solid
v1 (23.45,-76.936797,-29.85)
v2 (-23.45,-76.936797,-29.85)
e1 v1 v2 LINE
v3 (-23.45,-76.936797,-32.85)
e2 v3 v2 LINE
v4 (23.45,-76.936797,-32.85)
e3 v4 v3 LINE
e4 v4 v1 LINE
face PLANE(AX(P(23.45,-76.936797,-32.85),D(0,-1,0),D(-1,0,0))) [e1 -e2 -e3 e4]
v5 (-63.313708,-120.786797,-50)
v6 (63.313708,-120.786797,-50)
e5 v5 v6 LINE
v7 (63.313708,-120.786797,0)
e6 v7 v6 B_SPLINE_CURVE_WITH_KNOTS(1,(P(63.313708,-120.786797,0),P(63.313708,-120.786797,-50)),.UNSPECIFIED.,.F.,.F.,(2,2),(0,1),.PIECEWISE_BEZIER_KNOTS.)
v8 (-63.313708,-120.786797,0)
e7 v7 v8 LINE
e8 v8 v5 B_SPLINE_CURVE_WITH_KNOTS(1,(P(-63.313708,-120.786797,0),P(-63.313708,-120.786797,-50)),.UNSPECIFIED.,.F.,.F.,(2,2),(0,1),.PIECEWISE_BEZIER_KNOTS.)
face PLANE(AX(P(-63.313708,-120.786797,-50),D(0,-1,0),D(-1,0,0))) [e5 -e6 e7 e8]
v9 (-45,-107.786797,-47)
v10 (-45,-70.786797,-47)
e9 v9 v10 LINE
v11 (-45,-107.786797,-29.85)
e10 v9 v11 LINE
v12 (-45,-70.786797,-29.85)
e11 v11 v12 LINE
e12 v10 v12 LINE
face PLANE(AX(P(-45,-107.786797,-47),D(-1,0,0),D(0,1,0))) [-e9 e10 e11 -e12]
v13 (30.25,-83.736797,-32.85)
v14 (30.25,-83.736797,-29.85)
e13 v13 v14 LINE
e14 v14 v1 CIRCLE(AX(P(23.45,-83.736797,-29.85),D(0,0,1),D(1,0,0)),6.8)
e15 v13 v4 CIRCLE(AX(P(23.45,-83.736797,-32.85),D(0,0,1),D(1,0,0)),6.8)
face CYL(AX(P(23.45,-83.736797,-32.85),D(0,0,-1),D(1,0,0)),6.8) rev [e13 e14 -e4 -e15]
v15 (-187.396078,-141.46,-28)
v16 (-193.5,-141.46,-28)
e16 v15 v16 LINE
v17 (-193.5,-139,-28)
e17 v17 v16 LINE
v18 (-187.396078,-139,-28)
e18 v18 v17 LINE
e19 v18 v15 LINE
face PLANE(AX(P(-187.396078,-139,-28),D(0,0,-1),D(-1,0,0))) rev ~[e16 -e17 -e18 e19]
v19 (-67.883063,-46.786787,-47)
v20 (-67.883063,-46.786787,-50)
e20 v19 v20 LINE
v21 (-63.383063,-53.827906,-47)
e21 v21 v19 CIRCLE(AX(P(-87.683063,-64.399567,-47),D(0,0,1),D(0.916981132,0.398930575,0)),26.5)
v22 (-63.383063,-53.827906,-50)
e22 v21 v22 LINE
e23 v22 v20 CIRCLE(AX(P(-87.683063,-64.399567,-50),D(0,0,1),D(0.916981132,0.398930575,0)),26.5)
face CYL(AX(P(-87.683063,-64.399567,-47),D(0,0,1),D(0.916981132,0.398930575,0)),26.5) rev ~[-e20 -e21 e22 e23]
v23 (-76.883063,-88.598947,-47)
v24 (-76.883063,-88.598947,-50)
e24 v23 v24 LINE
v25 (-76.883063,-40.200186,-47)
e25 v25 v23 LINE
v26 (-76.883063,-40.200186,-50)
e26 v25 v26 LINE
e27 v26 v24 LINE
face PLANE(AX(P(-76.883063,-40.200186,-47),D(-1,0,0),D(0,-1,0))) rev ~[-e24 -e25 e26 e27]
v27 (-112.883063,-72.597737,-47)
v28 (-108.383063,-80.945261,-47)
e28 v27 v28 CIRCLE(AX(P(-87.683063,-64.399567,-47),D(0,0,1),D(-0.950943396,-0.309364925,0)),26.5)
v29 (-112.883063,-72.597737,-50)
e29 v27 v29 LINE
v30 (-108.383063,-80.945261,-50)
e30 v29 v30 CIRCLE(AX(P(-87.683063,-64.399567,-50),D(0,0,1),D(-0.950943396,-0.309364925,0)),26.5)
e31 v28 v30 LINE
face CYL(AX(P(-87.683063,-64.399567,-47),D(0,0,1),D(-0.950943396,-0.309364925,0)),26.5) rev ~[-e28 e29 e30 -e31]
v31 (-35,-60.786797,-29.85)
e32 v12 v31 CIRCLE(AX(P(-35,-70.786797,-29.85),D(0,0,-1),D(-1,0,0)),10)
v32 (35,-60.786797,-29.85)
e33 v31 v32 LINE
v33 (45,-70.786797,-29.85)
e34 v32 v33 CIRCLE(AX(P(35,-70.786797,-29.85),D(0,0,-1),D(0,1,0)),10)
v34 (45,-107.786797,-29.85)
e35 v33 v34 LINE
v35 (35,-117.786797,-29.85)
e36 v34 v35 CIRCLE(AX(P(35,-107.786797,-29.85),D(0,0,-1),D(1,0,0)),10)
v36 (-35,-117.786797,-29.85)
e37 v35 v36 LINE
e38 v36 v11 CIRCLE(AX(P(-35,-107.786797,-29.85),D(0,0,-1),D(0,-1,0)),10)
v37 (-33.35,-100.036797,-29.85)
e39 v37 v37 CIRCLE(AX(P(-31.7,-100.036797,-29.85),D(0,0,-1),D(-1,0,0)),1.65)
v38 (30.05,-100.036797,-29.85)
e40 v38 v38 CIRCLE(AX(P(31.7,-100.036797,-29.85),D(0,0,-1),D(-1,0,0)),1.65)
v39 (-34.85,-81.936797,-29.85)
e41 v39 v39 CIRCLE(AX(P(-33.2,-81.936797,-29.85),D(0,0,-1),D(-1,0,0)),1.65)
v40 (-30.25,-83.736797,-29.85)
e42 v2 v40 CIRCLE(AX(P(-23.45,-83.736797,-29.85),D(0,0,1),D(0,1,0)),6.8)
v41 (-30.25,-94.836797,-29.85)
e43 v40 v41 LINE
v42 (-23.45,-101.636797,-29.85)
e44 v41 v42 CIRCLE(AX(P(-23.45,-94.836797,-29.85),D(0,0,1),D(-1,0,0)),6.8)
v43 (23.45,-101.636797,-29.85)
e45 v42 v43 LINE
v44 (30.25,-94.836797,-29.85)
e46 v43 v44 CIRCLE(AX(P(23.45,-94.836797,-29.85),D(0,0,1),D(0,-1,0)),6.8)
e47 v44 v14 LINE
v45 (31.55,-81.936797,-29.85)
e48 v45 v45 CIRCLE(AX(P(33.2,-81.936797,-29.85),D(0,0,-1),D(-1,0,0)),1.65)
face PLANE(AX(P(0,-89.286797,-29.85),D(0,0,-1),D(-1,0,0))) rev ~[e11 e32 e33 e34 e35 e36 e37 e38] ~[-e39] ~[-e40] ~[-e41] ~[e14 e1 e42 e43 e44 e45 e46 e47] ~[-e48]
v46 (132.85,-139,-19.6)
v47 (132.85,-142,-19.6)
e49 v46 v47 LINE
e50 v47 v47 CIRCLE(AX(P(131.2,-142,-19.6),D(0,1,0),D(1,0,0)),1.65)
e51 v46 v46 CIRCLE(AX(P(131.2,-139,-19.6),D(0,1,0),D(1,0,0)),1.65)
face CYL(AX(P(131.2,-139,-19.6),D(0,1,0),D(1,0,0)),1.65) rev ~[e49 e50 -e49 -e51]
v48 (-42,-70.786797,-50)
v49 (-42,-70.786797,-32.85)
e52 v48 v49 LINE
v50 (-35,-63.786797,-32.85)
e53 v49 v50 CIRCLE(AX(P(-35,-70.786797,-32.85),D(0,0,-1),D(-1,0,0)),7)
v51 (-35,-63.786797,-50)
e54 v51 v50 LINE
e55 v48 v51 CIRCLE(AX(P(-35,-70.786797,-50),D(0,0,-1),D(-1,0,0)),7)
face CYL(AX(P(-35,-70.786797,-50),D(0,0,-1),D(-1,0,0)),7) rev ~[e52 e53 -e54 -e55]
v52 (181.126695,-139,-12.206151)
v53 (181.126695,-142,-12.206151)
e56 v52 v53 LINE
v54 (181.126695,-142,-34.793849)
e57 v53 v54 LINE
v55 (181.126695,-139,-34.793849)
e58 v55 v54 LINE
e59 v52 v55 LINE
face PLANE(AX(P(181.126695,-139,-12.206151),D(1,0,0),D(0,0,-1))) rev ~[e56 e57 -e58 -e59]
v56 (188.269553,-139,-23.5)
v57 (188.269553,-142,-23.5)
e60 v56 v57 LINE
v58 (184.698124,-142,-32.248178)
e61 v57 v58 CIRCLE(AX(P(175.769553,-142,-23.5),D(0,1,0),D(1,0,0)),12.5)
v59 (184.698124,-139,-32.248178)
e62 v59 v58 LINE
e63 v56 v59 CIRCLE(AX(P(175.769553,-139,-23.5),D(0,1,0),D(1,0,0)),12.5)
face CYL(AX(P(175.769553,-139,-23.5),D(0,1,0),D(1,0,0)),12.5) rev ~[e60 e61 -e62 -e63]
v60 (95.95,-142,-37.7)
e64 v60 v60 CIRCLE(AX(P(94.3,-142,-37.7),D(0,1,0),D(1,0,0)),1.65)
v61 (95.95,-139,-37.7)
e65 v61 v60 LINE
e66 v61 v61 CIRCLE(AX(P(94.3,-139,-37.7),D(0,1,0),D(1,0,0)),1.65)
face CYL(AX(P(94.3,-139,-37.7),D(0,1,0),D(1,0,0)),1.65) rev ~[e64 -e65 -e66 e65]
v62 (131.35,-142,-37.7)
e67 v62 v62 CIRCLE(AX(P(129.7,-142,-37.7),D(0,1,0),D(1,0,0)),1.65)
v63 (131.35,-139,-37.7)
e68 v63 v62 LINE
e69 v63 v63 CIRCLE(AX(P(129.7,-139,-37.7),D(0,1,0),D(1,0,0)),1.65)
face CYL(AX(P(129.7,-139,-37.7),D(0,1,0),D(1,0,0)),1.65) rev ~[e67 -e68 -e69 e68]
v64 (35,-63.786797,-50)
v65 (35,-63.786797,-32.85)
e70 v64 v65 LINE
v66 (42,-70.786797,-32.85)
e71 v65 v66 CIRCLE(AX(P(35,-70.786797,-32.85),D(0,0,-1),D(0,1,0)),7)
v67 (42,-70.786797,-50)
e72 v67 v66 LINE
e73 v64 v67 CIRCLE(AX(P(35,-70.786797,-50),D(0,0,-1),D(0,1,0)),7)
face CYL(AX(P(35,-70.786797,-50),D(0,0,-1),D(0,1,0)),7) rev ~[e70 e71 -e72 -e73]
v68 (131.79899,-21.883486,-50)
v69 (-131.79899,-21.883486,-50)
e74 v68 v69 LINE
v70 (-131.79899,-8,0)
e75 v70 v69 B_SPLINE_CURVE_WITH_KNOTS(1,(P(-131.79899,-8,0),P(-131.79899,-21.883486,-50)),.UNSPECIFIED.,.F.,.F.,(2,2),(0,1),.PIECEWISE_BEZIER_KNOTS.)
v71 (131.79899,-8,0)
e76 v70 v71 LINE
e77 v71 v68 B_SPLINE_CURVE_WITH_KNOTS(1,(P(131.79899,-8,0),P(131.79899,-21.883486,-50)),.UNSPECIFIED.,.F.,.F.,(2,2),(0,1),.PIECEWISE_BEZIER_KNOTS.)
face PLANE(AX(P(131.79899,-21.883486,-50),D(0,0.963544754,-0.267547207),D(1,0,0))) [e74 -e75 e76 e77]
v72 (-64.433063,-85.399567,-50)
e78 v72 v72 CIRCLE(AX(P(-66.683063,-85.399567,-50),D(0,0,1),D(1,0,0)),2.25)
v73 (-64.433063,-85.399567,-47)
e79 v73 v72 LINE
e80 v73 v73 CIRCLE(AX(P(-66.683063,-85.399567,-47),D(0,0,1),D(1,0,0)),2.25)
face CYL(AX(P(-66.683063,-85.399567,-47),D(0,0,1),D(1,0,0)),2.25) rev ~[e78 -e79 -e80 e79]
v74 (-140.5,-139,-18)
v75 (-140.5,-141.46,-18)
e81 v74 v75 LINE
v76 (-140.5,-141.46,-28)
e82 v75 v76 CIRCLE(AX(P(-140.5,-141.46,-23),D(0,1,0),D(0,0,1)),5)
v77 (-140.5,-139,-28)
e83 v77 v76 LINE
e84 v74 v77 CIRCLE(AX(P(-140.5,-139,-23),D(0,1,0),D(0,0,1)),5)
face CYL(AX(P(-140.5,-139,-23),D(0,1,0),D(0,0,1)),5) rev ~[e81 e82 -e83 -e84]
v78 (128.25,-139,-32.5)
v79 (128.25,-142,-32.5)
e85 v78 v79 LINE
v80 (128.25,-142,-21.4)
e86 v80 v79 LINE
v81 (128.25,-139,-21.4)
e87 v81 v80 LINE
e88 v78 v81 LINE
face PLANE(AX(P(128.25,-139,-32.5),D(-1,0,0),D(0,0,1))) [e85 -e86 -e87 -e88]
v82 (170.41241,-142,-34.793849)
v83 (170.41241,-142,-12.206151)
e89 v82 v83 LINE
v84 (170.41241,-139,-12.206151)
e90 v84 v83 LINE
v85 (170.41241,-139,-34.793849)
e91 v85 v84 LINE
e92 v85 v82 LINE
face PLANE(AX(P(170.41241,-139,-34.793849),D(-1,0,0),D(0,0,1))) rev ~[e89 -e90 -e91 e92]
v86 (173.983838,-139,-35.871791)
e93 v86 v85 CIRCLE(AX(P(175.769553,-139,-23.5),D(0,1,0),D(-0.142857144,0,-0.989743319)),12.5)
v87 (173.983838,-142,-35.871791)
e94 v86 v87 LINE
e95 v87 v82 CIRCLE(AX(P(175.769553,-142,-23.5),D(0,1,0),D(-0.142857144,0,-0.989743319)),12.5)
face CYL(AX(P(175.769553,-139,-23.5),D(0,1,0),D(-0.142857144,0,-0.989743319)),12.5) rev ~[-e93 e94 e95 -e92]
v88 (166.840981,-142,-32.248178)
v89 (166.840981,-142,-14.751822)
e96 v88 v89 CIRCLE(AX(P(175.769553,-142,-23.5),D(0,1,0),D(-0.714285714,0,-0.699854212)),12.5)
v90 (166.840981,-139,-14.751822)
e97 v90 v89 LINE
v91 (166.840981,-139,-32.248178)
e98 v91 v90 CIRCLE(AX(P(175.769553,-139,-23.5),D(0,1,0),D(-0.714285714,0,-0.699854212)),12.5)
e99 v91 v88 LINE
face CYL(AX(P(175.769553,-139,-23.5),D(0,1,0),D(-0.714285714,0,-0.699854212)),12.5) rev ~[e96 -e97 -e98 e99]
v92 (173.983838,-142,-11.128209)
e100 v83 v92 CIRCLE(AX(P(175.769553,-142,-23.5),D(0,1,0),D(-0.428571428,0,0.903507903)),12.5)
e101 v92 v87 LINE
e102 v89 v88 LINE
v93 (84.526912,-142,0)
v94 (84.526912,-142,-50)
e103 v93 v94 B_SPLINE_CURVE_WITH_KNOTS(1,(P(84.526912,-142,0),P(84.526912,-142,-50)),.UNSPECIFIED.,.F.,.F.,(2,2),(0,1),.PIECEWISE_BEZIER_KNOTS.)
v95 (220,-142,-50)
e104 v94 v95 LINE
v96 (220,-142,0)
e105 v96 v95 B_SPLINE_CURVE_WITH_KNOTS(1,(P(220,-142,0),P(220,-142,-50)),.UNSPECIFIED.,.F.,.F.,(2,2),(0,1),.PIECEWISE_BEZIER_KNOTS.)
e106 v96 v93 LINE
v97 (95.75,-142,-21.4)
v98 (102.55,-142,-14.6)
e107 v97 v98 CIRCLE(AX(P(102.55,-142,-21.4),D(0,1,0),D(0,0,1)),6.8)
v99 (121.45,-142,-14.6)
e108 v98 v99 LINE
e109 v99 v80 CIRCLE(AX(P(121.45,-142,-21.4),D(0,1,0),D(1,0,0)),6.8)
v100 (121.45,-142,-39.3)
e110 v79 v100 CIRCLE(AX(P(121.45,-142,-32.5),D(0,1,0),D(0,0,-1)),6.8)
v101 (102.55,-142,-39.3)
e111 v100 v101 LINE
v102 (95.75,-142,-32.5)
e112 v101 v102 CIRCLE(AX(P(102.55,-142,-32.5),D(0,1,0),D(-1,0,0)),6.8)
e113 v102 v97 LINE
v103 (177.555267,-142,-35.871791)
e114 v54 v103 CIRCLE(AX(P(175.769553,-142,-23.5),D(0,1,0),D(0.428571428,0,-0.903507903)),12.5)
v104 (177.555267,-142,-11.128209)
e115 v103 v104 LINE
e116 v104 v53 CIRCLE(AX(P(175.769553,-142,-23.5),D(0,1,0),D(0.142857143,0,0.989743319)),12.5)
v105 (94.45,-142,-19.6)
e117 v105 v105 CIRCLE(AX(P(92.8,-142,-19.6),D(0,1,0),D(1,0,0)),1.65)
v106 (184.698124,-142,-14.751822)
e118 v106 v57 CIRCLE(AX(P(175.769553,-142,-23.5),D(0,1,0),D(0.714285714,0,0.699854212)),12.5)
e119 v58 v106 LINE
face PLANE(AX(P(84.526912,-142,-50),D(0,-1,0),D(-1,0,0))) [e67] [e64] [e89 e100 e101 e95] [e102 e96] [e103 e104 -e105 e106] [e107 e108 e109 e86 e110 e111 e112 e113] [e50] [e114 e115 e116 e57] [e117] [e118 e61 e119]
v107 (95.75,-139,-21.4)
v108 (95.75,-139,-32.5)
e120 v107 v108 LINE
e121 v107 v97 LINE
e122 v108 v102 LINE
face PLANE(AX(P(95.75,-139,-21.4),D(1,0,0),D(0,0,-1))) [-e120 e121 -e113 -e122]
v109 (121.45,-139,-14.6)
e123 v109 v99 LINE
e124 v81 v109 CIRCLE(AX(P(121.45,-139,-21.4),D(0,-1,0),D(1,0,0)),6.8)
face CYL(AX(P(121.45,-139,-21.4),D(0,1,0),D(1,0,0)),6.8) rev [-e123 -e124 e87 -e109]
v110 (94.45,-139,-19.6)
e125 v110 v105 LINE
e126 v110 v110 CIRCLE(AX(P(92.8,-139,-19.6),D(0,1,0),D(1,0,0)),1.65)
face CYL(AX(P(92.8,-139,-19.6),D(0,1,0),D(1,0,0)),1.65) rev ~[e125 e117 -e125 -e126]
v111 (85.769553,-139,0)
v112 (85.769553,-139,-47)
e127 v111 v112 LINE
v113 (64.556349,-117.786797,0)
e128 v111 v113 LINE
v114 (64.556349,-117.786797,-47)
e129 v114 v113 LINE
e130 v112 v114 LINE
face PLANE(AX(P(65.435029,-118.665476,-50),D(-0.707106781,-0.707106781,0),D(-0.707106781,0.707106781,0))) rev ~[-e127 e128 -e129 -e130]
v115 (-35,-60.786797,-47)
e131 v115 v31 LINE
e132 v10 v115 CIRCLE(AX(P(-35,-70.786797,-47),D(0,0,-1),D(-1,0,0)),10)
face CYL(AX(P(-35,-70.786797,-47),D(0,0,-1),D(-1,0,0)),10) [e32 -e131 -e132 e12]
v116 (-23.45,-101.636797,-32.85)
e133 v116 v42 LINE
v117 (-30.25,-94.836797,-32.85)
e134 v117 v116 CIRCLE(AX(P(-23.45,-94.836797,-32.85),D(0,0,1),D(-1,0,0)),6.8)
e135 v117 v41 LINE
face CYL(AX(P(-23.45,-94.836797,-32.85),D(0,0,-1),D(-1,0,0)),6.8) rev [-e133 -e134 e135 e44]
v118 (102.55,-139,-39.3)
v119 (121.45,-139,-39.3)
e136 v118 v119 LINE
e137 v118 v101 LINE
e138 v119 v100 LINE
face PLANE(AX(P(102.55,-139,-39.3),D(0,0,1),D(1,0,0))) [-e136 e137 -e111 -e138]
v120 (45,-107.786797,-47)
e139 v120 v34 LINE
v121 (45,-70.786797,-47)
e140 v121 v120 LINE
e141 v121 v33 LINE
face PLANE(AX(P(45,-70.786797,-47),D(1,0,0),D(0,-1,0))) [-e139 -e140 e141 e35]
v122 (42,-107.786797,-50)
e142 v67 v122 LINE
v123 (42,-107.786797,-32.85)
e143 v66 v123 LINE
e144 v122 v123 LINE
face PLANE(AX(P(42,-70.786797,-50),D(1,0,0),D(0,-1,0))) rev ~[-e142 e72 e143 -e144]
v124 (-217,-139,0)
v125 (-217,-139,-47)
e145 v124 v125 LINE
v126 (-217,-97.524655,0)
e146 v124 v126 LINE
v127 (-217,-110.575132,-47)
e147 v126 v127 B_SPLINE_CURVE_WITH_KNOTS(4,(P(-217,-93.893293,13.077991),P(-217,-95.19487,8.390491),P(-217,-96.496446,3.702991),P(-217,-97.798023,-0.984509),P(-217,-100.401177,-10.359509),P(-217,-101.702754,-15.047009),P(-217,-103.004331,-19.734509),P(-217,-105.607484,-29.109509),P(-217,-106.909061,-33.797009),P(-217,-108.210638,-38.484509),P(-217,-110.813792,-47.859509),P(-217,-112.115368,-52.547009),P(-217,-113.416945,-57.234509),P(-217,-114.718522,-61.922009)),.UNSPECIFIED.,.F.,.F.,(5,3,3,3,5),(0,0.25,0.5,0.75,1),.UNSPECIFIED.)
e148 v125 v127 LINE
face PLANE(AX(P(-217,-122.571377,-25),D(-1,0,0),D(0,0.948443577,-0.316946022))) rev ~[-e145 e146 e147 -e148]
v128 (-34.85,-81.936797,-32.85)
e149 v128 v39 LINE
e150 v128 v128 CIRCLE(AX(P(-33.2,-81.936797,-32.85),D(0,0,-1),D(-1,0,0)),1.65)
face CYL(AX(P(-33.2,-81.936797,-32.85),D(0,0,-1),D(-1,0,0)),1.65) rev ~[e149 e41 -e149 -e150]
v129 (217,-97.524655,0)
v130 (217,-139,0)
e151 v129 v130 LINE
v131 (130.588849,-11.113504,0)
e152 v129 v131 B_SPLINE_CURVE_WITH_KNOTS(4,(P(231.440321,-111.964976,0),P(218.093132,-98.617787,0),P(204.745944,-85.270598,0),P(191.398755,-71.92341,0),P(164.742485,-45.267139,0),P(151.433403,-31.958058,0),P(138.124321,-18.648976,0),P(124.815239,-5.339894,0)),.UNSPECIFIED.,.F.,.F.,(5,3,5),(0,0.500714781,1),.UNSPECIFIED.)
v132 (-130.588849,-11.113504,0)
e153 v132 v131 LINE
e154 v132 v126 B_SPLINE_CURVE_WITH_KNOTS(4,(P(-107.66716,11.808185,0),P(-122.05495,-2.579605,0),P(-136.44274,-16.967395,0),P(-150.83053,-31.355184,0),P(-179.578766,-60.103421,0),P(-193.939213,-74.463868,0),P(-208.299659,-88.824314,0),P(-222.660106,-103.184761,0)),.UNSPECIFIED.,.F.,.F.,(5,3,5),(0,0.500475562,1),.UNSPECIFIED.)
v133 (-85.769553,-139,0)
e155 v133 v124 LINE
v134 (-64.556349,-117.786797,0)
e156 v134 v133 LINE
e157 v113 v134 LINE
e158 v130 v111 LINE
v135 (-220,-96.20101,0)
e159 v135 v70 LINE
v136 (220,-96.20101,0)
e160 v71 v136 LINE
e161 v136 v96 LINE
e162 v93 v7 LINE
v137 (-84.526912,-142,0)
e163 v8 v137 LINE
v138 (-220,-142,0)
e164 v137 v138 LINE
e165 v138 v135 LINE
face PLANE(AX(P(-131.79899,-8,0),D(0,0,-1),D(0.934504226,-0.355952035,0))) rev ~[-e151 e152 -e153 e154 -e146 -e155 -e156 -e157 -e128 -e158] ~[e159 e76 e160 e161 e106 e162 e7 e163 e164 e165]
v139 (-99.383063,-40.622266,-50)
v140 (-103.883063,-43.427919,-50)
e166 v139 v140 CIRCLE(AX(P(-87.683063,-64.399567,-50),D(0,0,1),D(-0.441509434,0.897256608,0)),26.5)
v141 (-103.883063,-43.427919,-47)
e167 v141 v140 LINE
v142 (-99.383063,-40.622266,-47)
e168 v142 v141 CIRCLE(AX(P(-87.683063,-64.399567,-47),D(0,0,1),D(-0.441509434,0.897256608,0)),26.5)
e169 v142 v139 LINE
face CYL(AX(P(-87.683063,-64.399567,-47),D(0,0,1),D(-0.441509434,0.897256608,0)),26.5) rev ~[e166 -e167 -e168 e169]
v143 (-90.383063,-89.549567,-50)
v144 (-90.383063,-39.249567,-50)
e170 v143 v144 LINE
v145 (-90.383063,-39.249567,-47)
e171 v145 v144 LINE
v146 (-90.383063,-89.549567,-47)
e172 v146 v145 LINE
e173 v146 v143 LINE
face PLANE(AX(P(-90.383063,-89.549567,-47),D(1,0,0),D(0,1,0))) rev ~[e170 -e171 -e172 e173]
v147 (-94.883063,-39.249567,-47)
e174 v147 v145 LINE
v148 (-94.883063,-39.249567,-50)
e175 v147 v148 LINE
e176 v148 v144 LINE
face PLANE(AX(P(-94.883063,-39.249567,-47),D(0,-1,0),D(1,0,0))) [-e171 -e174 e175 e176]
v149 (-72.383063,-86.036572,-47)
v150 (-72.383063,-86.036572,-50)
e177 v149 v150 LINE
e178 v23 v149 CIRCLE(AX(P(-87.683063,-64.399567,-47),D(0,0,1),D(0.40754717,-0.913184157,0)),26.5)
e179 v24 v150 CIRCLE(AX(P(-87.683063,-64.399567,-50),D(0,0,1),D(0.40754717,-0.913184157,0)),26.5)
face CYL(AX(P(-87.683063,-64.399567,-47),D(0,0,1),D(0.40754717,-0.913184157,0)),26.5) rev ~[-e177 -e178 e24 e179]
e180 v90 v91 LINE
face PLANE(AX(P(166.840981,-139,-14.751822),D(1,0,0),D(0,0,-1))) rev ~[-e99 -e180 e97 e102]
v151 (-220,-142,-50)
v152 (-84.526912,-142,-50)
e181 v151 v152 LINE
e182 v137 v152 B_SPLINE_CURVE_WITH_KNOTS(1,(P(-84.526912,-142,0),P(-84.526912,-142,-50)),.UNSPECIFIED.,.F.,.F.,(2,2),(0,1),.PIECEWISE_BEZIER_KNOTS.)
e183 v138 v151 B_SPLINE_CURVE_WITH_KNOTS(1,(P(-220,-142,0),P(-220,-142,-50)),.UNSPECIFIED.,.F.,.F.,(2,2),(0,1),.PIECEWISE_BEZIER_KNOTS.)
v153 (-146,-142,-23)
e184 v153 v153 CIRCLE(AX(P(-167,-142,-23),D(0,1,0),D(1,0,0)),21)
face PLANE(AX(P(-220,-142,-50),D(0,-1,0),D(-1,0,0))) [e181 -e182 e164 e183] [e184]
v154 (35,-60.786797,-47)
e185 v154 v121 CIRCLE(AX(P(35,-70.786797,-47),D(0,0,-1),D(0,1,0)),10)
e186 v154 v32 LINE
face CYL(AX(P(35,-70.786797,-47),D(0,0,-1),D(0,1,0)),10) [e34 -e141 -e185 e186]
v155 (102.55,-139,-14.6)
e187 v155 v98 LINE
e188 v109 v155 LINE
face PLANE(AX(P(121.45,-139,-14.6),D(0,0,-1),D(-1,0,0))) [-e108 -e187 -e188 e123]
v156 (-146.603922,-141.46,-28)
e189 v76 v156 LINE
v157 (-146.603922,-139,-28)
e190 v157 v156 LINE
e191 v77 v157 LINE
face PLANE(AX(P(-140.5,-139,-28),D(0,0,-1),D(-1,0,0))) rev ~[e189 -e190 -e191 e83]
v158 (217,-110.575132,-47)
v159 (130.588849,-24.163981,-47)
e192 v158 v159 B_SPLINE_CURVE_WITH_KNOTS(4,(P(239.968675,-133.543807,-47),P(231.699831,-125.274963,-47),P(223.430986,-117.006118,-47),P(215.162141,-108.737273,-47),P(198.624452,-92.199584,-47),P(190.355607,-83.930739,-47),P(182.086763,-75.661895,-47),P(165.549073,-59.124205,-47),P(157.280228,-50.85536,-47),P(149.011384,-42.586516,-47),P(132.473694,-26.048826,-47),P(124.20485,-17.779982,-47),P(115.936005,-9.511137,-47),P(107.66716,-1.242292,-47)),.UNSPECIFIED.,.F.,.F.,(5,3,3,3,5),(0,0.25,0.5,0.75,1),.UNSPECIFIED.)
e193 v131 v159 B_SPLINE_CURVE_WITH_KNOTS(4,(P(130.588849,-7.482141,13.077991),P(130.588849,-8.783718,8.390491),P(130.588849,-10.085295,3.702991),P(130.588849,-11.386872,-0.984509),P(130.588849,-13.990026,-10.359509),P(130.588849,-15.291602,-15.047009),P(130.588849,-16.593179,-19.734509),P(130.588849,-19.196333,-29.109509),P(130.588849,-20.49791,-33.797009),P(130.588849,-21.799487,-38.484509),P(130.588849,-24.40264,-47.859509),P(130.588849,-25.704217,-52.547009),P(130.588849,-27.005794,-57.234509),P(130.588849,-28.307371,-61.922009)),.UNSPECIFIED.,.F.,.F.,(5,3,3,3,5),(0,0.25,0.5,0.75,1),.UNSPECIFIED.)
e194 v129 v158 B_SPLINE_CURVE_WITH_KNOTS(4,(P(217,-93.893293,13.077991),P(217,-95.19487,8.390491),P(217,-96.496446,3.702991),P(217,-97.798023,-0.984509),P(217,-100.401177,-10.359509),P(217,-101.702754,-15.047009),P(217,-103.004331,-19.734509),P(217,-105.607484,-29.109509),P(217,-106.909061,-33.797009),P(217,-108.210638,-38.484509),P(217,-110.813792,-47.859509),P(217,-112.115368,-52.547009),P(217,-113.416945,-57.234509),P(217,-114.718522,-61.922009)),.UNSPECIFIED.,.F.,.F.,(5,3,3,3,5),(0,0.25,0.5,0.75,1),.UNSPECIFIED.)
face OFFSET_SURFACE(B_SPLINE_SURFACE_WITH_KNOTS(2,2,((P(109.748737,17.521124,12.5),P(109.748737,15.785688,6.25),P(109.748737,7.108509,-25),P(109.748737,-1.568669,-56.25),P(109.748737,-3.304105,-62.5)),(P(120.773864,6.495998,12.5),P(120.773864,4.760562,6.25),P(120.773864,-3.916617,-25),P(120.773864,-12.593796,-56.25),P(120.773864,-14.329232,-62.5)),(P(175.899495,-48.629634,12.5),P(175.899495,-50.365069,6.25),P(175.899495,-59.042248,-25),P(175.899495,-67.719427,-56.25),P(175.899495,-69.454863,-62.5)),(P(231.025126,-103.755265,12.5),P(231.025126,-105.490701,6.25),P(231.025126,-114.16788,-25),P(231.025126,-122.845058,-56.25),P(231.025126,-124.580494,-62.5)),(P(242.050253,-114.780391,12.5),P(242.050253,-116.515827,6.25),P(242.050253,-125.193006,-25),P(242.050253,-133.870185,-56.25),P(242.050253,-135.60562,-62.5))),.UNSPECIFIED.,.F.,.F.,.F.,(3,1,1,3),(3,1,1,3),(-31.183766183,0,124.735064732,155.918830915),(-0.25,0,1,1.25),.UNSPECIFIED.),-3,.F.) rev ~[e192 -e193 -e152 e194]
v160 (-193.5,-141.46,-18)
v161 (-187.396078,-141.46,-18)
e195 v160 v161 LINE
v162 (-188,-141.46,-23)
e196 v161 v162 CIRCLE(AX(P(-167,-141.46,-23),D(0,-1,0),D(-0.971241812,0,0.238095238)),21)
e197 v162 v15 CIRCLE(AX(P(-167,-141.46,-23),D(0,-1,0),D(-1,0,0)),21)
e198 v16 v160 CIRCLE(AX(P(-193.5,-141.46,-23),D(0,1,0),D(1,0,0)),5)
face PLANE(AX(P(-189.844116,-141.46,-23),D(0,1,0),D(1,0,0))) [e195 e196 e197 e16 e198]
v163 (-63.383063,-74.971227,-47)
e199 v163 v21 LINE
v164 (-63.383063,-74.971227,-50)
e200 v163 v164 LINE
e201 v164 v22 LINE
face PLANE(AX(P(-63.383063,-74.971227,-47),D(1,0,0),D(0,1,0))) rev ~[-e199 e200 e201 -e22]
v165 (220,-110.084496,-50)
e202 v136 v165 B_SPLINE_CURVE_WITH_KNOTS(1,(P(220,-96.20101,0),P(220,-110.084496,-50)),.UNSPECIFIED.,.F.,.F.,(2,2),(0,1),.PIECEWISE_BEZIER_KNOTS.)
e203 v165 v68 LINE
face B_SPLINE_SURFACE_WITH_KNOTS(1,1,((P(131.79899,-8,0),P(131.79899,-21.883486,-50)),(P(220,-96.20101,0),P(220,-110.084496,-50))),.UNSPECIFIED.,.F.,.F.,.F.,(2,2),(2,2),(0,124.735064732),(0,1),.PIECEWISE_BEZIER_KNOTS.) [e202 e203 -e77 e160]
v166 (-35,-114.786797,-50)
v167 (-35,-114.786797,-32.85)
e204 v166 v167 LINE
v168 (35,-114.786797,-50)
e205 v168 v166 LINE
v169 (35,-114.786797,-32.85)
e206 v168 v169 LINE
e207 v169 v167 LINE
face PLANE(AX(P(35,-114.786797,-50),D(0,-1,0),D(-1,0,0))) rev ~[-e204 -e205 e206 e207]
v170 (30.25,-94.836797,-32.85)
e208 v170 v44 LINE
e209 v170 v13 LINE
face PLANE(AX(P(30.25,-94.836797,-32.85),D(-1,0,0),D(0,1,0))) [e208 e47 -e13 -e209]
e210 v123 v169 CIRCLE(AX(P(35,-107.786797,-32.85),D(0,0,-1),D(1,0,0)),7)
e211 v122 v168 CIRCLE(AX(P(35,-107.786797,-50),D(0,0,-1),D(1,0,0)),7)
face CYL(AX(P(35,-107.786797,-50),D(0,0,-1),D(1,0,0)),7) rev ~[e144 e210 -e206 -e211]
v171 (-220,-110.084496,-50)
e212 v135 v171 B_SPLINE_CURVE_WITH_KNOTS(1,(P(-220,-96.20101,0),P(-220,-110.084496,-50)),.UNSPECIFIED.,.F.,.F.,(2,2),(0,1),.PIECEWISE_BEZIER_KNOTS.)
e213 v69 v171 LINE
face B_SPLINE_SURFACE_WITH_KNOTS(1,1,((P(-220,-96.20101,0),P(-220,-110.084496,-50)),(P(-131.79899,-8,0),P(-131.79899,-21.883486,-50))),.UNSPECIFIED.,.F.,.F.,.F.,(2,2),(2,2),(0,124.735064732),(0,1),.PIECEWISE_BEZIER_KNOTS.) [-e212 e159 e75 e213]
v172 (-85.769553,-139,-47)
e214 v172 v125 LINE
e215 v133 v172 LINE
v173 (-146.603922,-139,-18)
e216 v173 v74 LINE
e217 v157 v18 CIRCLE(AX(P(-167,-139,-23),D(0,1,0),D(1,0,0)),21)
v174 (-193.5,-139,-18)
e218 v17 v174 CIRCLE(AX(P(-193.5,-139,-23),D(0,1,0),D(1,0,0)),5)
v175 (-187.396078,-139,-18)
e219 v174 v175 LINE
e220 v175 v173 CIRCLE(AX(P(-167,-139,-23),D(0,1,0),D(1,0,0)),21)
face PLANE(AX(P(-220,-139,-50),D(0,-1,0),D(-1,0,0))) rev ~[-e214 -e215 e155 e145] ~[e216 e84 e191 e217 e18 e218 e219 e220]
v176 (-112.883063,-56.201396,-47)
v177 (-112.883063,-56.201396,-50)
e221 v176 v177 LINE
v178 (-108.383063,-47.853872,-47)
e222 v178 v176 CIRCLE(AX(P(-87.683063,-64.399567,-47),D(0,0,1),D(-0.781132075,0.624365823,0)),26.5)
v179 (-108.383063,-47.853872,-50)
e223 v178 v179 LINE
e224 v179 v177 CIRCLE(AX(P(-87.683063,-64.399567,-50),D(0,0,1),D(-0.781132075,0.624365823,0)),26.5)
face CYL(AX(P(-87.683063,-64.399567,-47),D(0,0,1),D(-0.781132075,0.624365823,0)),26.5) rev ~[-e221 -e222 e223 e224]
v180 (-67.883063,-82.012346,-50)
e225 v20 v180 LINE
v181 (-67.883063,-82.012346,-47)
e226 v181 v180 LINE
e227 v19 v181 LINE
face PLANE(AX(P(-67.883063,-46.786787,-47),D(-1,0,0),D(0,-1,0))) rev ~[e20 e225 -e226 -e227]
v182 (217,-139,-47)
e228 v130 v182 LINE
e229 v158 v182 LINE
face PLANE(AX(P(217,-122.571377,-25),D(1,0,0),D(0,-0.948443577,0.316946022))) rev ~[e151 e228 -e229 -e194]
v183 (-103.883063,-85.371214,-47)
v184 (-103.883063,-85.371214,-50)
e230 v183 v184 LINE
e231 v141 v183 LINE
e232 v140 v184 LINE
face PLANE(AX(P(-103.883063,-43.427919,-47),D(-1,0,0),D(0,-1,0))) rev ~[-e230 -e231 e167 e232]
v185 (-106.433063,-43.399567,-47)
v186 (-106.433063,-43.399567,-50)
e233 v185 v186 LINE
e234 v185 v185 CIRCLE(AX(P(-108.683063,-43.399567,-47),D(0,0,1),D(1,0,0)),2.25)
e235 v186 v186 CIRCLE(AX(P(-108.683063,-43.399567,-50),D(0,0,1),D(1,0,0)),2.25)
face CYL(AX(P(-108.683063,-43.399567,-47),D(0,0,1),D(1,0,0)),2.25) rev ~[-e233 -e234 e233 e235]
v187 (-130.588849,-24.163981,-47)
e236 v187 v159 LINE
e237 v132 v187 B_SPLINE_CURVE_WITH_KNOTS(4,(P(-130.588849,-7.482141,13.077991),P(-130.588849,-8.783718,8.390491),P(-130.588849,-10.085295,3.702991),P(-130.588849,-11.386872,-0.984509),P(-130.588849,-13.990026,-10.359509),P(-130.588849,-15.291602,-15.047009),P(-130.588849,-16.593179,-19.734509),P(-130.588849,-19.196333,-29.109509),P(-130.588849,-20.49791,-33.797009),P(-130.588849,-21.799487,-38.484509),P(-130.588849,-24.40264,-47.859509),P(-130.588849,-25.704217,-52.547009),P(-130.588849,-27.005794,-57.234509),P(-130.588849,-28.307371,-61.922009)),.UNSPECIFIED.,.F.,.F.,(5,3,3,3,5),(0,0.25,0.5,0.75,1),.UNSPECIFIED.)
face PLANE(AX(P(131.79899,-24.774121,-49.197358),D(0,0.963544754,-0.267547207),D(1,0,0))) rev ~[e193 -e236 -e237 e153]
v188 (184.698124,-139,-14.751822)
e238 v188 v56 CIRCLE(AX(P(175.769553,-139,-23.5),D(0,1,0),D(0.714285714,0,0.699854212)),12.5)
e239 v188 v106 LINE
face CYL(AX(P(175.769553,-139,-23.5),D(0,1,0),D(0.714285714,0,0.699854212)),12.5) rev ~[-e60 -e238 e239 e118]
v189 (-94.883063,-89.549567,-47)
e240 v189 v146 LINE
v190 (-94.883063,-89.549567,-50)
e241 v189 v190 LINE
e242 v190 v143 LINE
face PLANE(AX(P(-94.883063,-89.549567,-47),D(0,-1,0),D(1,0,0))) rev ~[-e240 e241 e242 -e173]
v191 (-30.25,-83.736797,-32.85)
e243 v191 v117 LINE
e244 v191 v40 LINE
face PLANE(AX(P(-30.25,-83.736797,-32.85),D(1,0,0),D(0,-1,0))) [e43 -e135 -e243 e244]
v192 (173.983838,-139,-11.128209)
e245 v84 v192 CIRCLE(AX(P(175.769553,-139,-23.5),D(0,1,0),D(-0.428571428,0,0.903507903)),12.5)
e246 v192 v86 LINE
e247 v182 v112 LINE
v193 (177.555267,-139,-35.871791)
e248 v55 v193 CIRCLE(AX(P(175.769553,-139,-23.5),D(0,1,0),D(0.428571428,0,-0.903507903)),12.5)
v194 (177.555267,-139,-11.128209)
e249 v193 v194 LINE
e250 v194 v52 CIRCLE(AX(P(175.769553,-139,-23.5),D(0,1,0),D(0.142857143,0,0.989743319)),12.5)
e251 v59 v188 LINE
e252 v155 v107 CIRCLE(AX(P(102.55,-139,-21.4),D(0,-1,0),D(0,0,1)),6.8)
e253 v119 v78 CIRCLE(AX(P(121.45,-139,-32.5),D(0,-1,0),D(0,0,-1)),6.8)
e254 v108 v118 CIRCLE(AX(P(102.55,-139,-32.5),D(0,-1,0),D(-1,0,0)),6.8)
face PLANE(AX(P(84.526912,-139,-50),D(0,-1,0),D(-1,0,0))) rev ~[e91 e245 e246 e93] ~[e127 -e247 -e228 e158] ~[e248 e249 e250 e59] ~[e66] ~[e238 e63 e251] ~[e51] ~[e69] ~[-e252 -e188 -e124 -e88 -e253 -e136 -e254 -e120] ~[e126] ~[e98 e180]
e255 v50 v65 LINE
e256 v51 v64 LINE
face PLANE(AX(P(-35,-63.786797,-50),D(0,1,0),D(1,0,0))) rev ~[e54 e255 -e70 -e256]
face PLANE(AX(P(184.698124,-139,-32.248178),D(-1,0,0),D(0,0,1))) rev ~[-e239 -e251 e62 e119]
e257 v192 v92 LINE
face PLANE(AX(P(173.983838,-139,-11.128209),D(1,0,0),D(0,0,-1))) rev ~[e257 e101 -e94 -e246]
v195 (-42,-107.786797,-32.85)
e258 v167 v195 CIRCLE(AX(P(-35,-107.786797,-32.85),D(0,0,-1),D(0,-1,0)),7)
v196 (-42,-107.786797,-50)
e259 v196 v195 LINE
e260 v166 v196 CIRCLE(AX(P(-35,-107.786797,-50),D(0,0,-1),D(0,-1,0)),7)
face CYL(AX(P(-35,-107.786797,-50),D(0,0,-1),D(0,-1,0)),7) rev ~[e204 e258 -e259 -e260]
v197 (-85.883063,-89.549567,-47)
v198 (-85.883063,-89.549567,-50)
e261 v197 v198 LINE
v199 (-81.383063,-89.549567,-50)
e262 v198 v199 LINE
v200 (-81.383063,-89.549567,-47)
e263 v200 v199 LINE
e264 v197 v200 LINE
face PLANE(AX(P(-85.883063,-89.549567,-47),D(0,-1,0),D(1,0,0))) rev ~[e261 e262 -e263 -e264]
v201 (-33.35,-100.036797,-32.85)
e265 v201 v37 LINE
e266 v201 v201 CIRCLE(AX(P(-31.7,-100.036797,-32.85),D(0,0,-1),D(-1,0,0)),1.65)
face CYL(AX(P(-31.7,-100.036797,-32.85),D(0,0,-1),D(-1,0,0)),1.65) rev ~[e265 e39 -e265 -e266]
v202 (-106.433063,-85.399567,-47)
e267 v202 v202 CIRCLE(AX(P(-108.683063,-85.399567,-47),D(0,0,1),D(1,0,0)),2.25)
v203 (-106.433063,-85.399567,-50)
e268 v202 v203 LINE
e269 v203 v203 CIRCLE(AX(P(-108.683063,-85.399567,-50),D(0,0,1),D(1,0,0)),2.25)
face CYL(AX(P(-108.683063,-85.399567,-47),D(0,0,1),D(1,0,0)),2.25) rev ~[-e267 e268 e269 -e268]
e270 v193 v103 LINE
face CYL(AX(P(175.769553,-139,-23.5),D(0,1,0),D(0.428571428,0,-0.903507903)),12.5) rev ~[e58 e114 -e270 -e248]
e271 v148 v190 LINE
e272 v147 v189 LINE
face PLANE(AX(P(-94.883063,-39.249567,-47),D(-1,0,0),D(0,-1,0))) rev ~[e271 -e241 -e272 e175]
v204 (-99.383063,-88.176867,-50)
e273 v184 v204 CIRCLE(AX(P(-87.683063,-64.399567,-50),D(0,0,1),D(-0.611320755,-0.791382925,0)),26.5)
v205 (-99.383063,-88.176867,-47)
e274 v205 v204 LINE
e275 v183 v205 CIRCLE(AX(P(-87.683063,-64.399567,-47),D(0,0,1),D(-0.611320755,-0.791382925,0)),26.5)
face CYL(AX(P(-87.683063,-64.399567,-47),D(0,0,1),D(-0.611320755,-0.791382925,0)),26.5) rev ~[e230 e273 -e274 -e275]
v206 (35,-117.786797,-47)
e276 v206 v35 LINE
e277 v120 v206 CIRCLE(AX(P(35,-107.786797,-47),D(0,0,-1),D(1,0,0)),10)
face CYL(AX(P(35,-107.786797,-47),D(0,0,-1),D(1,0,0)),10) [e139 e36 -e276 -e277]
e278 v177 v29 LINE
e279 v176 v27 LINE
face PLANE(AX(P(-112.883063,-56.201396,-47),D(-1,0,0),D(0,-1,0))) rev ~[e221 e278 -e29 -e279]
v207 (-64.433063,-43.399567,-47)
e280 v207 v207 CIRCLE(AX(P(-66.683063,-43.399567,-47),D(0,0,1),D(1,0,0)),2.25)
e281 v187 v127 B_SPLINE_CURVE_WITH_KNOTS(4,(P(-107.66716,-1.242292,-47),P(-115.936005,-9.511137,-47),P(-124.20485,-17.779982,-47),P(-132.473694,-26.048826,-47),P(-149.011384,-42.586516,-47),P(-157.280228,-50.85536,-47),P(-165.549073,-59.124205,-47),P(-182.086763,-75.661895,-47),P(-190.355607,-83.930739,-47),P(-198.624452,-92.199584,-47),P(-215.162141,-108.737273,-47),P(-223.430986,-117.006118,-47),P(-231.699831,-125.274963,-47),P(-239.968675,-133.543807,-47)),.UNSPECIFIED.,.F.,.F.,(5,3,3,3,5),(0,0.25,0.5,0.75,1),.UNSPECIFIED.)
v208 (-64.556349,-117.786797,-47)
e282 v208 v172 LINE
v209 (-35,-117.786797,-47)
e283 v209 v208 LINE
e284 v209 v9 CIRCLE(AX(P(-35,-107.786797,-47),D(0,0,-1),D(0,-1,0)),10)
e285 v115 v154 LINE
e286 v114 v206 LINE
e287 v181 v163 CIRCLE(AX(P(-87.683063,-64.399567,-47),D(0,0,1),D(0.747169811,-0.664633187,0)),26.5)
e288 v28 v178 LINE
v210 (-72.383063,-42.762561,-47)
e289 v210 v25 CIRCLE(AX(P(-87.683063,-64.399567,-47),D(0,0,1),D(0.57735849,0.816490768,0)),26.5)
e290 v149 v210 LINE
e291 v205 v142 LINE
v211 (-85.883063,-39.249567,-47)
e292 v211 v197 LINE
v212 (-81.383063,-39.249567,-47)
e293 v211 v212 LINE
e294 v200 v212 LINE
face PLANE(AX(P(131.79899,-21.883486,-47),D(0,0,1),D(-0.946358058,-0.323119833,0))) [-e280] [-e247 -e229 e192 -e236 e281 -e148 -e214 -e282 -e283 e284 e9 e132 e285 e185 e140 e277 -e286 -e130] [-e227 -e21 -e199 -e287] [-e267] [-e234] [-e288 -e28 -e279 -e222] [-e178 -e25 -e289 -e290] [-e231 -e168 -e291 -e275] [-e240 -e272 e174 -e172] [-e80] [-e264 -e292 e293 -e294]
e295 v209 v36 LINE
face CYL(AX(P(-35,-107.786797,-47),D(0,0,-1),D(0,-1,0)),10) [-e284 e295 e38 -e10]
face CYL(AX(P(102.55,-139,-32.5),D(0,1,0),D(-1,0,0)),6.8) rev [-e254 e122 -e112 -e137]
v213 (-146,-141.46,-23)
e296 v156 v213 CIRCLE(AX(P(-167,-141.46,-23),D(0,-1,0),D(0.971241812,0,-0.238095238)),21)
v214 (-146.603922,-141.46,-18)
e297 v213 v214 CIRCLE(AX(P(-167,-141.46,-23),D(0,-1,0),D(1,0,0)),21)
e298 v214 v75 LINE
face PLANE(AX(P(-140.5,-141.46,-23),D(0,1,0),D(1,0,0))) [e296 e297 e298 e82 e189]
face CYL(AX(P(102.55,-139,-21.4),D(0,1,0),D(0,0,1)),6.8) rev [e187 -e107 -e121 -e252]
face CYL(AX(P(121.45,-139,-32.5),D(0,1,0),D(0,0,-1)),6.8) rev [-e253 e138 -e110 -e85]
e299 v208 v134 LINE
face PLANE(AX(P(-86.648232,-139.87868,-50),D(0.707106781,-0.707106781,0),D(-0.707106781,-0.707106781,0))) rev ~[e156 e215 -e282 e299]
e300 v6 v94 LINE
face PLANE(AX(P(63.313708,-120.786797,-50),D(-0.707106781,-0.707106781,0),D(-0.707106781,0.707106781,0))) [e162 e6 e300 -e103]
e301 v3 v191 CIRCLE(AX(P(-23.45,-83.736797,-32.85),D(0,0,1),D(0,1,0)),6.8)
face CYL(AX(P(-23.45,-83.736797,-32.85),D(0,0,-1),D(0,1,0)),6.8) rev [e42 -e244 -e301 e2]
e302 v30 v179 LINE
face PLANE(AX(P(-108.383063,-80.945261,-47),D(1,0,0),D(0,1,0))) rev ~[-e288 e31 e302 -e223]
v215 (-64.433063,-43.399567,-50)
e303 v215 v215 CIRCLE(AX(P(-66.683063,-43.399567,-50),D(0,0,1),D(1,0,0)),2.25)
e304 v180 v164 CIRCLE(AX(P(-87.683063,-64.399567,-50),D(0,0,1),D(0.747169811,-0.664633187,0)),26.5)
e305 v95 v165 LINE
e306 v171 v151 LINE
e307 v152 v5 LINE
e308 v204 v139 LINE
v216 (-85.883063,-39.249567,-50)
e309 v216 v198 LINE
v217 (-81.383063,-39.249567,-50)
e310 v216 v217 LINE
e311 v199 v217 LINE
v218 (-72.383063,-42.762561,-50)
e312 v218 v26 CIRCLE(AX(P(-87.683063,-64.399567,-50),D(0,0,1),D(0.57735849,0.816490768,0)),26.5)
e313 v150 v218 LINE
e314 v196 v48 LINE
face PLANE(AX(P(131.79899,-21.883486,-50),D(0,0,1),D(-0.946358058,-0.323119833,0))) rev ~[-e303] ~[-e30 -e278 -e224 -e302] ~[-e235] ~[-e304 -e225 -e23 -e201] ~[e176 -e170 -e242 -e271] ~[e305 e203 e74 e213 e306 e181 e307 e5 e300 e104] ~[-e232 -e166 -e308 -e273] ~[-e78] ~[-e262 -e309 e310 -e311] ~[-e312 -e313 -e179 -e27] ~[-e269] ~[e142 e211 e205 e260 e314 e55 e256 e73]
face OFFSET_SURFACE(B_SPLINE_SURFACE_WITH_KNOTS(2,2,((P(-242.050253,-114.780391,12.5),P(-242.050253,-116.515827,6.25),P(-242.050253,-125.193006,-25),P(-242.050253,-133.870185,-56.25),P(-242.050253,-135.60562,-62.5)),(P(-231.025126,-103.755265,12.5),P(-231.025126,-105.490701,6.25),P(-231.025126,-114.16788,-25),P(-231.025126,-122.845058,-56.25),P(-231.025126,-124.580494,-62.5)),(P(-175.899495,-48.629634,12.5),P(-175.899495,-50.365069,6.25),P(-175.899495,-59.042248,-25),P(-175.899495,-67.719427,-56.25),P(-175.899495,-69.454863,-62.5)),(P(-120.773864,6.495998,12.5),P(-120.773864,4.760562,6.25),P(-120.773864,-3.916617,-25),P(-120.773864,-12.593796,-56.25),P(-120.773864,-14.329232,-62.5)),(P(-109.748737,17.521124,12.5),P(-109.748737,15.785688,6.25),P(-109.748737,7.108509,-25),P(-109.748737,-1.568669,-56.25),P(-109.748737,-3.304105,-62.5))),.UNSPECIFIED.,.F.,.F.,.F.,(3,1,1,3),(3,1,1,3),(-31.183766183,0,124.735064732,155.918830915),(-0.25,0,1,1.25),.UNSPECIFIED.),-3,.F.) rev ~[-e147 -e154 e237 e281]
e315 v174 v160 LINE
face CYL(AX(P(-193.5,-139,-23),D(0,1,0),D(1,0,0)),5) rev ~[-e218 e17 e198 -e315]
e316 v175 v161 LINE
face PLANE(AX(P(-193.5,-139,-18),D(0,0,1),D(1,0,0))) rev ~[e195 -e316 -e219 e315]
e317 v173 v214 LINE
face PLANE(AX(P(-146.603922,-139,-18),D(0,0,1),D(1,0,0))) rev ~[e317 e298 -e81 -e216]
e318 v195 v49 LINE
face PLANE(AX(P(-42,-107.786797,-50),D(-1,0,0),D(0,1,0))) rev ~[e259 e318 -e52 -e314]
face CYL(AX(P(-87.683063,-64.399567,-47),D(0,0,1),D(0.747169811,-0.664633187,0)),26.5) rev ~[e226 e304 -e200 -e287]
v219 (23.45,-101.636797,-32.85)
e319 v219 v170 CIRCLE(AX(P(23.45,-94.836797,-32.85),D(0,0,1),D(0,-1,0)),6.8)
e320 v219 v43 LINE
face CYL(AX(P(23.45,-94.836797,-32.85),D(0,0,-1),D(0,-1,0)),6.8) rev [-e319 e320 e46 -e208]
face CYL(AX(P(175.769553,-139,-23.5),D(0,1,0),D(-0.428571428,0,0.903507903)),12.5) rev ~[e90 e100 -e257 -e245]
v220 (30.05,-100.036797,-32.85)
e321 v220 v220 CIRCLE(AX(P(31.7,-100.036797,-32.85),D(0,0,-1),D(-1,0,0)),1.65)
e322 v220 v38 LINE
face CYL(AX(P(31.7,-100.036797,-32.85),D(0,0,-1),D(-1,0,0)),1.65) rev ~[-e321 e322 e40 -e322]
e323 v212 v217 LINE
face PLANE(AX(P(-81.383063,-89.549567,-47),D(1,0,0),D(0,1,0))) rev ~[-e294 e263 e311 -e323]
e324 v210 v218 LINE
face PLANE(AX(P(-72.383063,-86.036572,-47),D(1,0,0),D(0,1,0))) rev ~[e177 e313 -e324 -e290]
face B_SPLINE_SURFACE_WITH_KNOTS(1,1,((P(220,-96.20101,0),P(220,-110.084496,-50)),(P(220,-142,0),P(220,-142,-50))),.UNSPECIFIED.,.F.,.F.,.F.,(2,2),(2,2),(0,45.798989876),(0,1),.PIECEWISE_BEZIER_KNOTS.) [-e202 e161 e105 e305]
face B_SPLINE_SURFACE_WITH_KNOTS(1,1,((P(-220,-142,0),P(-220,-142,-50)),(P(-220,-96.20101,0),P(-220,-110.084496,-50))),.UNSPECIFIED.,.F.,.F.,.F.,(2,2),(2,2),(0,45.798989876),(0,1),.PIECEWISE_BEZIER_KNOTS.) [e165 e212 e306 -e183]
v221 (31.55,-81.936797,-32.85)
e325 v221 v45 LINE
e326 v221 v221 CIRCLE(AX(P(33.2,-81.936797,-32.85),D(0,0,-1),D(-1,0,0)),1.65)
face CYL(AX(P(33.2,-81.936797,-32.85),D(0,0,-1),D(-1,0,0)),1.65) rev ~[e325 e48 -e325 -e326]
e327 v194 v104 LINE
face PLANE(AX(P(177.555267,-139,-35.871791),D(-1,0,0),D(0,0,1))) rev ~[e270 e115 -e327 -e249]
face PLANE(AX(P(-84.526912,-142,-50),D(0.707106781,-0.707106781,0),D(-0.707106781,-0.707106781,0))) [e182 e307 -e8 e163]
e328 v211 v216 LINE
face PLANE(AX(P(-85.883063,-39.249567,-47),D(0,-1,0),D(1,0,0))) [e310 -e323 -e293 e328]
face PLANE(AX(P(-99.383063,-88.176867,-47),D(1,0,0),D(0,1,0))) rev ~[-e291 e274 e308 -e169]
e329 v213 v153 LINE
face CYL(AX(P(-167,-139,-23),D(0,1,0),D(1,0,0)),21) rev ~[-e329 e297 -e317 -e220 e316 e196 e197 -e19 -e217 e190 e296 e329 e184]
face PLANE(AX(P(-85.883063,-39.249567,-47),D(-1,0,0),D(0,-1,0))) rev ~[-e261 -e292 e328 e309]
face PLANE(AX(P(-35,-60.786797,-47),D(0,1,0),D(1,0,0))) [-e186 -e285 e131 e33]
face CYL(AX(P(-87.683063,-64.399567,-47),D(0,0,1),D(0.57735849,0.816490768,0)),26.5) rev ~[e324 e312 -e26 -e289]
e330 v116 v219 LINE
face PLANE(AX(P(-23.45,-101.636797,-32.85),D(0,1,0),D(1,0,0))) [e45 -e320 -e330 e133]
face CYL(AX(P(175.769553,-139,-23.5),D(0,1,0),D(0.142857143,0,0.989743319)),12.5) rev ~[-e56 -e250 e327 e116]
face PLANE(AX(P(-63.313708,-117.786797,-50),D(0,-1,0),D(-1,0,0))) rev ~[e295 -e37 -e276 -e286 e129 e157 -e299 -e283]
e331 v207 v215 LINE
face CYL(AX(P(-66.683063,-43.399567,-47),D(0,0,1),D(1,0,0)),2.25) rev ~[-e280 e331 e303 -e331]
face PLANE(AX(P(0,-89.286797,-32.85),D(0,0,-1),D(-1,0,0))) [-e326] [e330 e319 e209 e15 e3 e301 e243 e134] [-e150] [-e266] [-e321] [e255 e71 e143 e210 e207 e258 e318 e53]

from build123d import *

# Parameters (mm, degrees)
SHELL1_T            = -3
SKETCH3_R           = 1.65
CUT_EXTRUDE1_DEPTH  = 4.0000001
SKETCH4_W           = 4.5
SKETCH4_H           = 25.15
SKETCH4_R           = 2.25
CUT_EXTRUDE2_DEPTH  = 4.0000001
BOSS_EXTRUDE1_DEPTH = 17.15
CUT_EXTRUDE3_DEPTH  = 17.15
SKETCH9_R           = 1.65
CUT_EXTRUDE4_DEPTH  = 3
CUT_EXTRUDE5_DEPTH  = 3
SKETCH11_R          = 21
CUT_EXTRUDE9_DEPTH  = 3
SKETCH15_R          = 5
CUT_EXTRUDE10_DEPTH = 2.46


with BuildPart() as part:
    # Sketch1 → Loft1 section 0
    with BuildSketch(Plane.XY):
        Polygon((-131.798989871, -8), (131.798989871, -8), (219.999999995, -96.201010124), (219.999999995, -142), (84.526911935, -142), (63.313708499, -120.786796564), (-63.313708499, -120.786796564), (-84.526911935, -142), (-219.999999995, -142), (-219.999999995, -96.201010124), align=None)
    # Sketch2 → Loft1 section 1
    with BuildSketch(Plane.XY.offset(-50)):
        Polygon((84.526911935, -142), (219.999999995, -142), (219.999999995, -110.084496369), (131.798989871, -21.883486245), (-131.798989871, -21.883486245), (-219.999999995, -110.084496369), (-219.999999995, -142), (-84.526911935, -142), (-63.313708499, -120.786796564), (63.313708499, -120.786796564), align=None)
    loft()

    # Shell1
    shell1_openings = [part.faces().sort_by_distance(p)[0] for p in [
        (0, -101.797561338, 0),
    ]]
    offset(amount=SHELL1_T, openings=shell1_openings, kind=Kind.INTERSECTION)

    # Sketch3 → Cut-Extrude1 (cut, through all)
    with BuildSketch(Plane(origin=(0, -139, 5.432952069), x_dir=(1, 0, 0), z_dir=(0, 1, 0))):
        with Locations((94.299999995, 43.132952069)):
            Circle(SKETCH3_R)
        with Locations((129.699999995, 43.132952069)):
            Circle(SKETCH3_R)
        with Locations((92.799999995, 25.032952069)):
            Circle(SKETCH3_R)
        with Locations((131.199999995, 25.032952069)):
            Circle(SKETCH3_R)
        with BuildLine():
            Line((102.549999995, 44.732952069), (121.449999995, 44.732952069))
            ThreePointArc((121.449999995, 44.732952069), (126.258326107, 42.741278181), (128.249999995, 37.932952069))
            Line((128.249999995, 37.932952069), (128.249999995, 26.832952069))
            ThreePointArc((128.249999995, 26.832952069), (126.258326107, 22.024625957), (121.449999995, 20.032952069))
            Line((121.449999995, 20.032952069), (102.549999995, 20.032952069))
            ThreePointArc((102.549999995, 20.032952069), (97.741673883, 22.024625957), (95.749999995, 26.832952069))
            Line((95.749999995, 26.832952069), (95.749999995, 37.932952069))
            ThreePointArc((95.749999995, 37.932952069), (97.741673883, 42.741278181), (102.549999995, 44.732952069))
        make_face()
    extrude(amount=-CUT_EXTRUDE1_DEPTH, mode=Mode.SUBTRACT)

    # Sketch4 → Cut-Extrude2 (cut, through all)
    with BuildSketch(Plane.XY.offset(-47)):
        with BuildLine():
            Line((-112.88306325, -56.201396063), (-112.88306325, -64.399566591))
            Line((-112.88306325, -64.399566591), (-108.38306325, -64.399566591))
            Line((-108.38306325, -64.399566591), (-108.38306325, -47.853872287))
            ThreePointArc((-108.38306325, -47.853872287), (-111.009502934, -51.82470231), (-112.88306325, -56.201396063))
        make_face()
        with BuildLine():
            Line((-108.38306325, -64.399566591), (-112.88306325, -64.399566591))
            Line((-112.88306325, -64.399566591), (-112.88306325, -72.597737119))
            ThreePointArc((-112.88306325, -72.597737119), (-111.009502934, -76.974430873), (-108.38306325, -80.945260895))
            Line((-108.38306325, -80.945260895), (-108.38306325, -64.399566591))
        make_face()
        with BuildLine():
            Line((-103.88306325, -43.427919064), (-103.88306325, -64.399566591))
            Line((-103.88306325, -64.399566591), (-99.38306325, -64.399566591))
            Line((-99.38306325, -64.399566591), (-99.38306325, -40.622266492))
            ThreePointArc((-99.38306325, -40.622266492), (-101.703420649, -41.912246199), (-103.88306325, -43.427919064))
        make_face()
        with BuildLine():
            Line((-99.38306325, -64.399566591), (-103.88306325, -64.399566591))
            Line((-103.88306325, -64.399566591), (-103.88306325, -85.371214118))
            ThreePointArc((-103.88306325, -85.371214118), (-101.703420649, -86.886886983), (-99.38306325, -88.17686669))
            Line((-99.38306325, -88.17686669), (-99.38306325, -64.399566591))
        make_face()
        with Locations((-92.63306325, -51.824566591)):
            Rectangle(SKETCH4_W, SKETCH4_H)
        with Locations((-92.63306325, -76.974566591)):
            Rectangle(SKETCH4_W, SKETCH4_H)
        with Locations((-83.63306325, -51.824566591)):
            Rectangle(SKETCH4_W, SKETCH4_H)
        with Locations((-83.63306325, -76.974566591)):
            Rectangle(SKETCH4_W, SKETCH4_H)
        with BuildLine():
            Line((-76.88306325, -40.200186434), (-76.88306325, -64.399566591))
            Line((-76.88306325, -64.399566591), (-72.38306325, -64.399566591))
            Line((-72.38306325, -64.399566591), (-72.38306325, -42.762561253))
            ThreePointArc((-72.38306325, -42.762561253), (-74.570323599, -41.371191511), (-76.88306325, -40.200186434))
        make_face()
        with BuildLine():
            Line((-72.38306325, -64.399566591), (-76.88306325, -64.399566591))
            Line((-76.88306325, -64.399566591), (-76.88306325, -88.598946748))
            ThreePointArc((-76.88306325, -88.598946748), (-74.570323599, -87.427941671), (-72.38306325, -86.036571929))
            Line((-72.38306325, -86.036571929), (-72.38306325, -64.399566591))
        make_face()
        with BuildLine():
            Line((-67.88306325, -46.78678714), (-67.88306325, -64.399566591))
            Line((-67.88306325, -64.399566591), (-63.38306325, -64.399566591))
            Line((-63.38306325, -64.399566591), (-63.38306325, -53.827906362))
            ThreePointArc((-63.38306325, -53.827906362), (-65.353781131, -50.128856727), (-67.88306325, -46.78678714))
        make_face()
        with BuildLine():
            Line((-63.38306325, -64.399566591), (-67.88306325, -64.399566591))
            Line((-67.88306325, -64.399566591), (-67.88306325, -82.012346042))
            ThreePointArc((-67.88306325, -82.012346042), (-65.353781131, -78.670276455), (-63.38306325, -74.97122682))
            Line((-63.38306325, -74.97122682), (-63.38306325, -64.399566591))
        make_face()
        with Locations((-108.68306325, -43.399566591)):
            Circle(SKETCH4_R)
        with Locations((-66.68306325, -43.399566591)):
            Circle(SKETCH4_R)
        with Locations((-66.68306325, -85.399566591)):
            Circle(SKETCH4_R)
        with Locations((-108.68306325, -85.399566591)):
            Circle(SKETCH4_R)
    extrude(amount=-CUT_EXTRUDE2_DEPTH, mode=Mode.SUBTRACT)

    # Sketch6 → Boss-Extrude1 (add)
    with BuildSketch(Plane.XY.offset(-47)):
        with BuildLine():
            Line((-35, -60.786796564), (35, -60.786796564))
            ThreePointArc((35, -60.786796564), (42.071067812, -63.715728753), (45, -70.786796564))
            Line((45, -70.786796564), (45, -107.786796564))
            ThreePointArc((45, -107.786796564), (42.071067812, -114.857864376), (35, -117.786796564))
            Line((35, -117.786796564), (-35, -117.786796564))
            ThreePointArc((-35, -117.786796564), (-42.071067812, -114.857864376), (-45, -107.786796564))
            Line((-45, -107.786796564), (-45, -70.786796564))
            ThreePointArc((-45, -70.786796564), (-42.071067812, -63.715728753), (-35, -60.786796564))
        make_face()
    extrude(amount=BOSS_EXTRUDE1_DEPTH)

    # Sketch8 → Cut-Extrude3 (cut)
    with BuildSketch(Plane(origin=(0, 0, -50), x_dir=(-1, 0, 0), z_dir=(0, 0, -1))):
        with BuildLine():
            Line((-42, -70.786796564), (-42, -107.786796564))
            ThreePointArc((-42, -107.786796564), (-39.949747468, -112.736544033), (-35, -114.786796564))
            Line((-35, -114.786796564), (35, -114.786796564))
            ThreePointArc((35, -114.786796564), (39.949747468, -112.736544033), (42, -107.786796564))
            Line((42, -107.786796564), (42, -70.786796564))
            ThreePointArc((42, -70.786796564), (39.949747468, -65.837049096), (35, -63.786796564))
            Line((35, -63.786796564), (-35, -63.786796564))
            ThreePointArc((-35, -63.786796564), (-39.949747468, -65.837049096), (-42, -70.786796564))
        make_face()
    extrude(amount=-CUT_EXTRUDE3_DEPTH, mode=Mode.SUBTRACT)

    # Sketch9 → Cut-Extrude4 (cut)
    with BuildSketch(Plane(origin=(0, 0, -32.85), x_dir=(-1, 0, 0), z_dir=(0, 0, -1))):
        with Locations((-33.2, -81.936796564)):
            Circle(SKETCH9_R)
        with Locations((-31.7, -100.036796564)):
            Circle(SKETCH9_R)
        with Locations((33.2, -81.936796564)):
            Circle(SKETCH9_R)
        with Locations((31.7, -100.036796564)):
            Circle(SKETCH9_R)
        with BuildLine():
            Line((-23.45, -76.936796564), (23.45, -76.936796564))
            ThreePointArc((23.45, -76.936796564), (28.258326112, -78.928470452), (30.25, -83.736796564))
            Line((30.25, -83.736796564), (30.25, -94.836796564))
            ThreePointArc((30.25, -94.836796564), (28.258326112, -99.645122676), (23.45, -101.636796564))
            Line((23.45, -101.636796564), (-23.45, -101.636796564))
            ThreePointArc((-23.45, -101.636796564), (-28.258326112, -99.645122676), (-30.25, -94.836796564))
            Line((-30.25, -94.836796564), (-30.25, -83.736796564))
            ThreePointArc((-30.25, -83.736796564), (-28.258326112, -78.928470452), (-23.45, -76.936796564))
        make_face()
    extrude(amount=-CUT_EXTRUDE4_DEPTH, mode=Mode.SUBTRACT)

    # Sketch10 → Cut-Extrude5 (cut)
    with BuildSketch(Plane(origin=(0, -139, 0), x_dir=(1, 0, 0), z_dir=(0, 1, 0))):
        with BuildLine():
            ThreePointArc((166.840981193, 32.248177653), (163.269552622, 23.5), (166.840981193, 14.751822347))
            Line((166.840981193, 14.751822347), (166.840981193, 32.248177653))
        make_face()
        with BuildLine():
            Line((170.412409765, 34.793848786), (170.412409765, 12.206151214))
            ThreePointArc((170.412409765, 12.206151214), (172.157684386, 11.533195588), (173.983838336, 11.128208517))
            Line((173.983838336, 11.128208517), (173.983838336, 35.871791483))
            ThreePointArc((173.983838336, 35.871791483), (172.157684386, 35.466804412), (170.412409765, 34.793848786))
        make_face()
        with BuildLine():
            Line((177.555266907, 35.871791483), (177.555266907, 11.128208517))
            ThreePointArc((177.555266907, 11.128208517), (179.381420858, 11.533195588), (181.126695479, 12.206151214))
            Line((181.126695479, 12.206151214), (181.126695479, 34.793848786))
            ThreePointArc((181.126695479, 34.793848786), (179.381420858, 35.466804412), (177.555266907, 35.871791483))
        make_face()
        with BuildLine():
            Line((184.69812405, 32.248177653), (184.69812405, 14.751822347))
            ThreePointArc((184.69812405, 14.751822347), (187.342303869, 18.775444087), (188.269552622, 23.5))
            ThreePointArc((188.269552622, 23.5), (187.342303869, 28.224555913), (184.69812405, 32.248177653))
        make_face()
    extrude(amount=-CUT_EXTRUDE5_DEPTH, mode=Mode.SUBTRACT)

    # Sketch11 → Cut-Extrude9 (cut)
    with BuildSketch(Plane(origin=(0, -139, 0), x_dir=(1, 0, 0), z_dir=(0, 1, 0))):
        with Locations((-166.999999995, 23)):
            Circle(SKETCH11_R)
    extrude(amount=-CUT_EXTRUDE9_DEPTH, mode=Mode.SUBTRACT)

    # Sketch15 → Cut-Extrude10 (cut)
    with BuildSketch(Plane(origin=(0, -139, 0), x_dir=(1, 0, 0), z_dir=(0, 1, 0))):
        with BuildLine():
            Line((-187.999999995, 23), (-187.999999995, 28))
            Line((-187.999999995, 28), (-193.499999995, 28))
            ThreePointArc((-193.499999995, 28), (-189.964466089, 26.535533906), (-188.499999995, 23))
            ThreePointArc((-188.499999995, 23), (-189.964466089, 19.464466094), (-193.499999995, 18))
            Line((-193.499999995, 18), (-187.999999995, 18))
            Line((-187.999999995, 18), (-187.999999995, 23))
        make_face()
        with Locations((-193.499999995, 23)):
            Circle(SKETCH15_R)
        with Locations((-140.499999995, 23)):
            Circle(SKETCH15_R)
        with BuildLine():
            Line((-140.499999995, 28), (-145.999999995, 28))
            Line((-145.999999995, 28), (-145.999999995, 23))
            Line((-145.999999995, 23), (-145.999999995, 18))
            Line((-145.999999995, 18), (-140.499999995, 18))
            ThreePointArc((-140.499999995, 18), (-145.499999995, 23), (-140.499999995, 28))
        make_face()
        with BuildLine():
            ThreePointArc((-145.999999995, 23), (-146.151527159, 20.481829944), (-146.60392194, 18))
            Line((-146.60392194, 18), (-145.999999995, 18))
            Line((-145.999999995, 18), (-145.999999995, 23))
        make_face()
        with BuildLine():
            Line((-145.999999995, 28), (-146.60392194, 28))
            ThreePointArc((-146.60392194, 28), (-146.151527159, 25.518170056), (-145.999999995, 23))
            Line((-145.999999995, 23), (-145.999999995, 28))
        make_face()
        with BuildLine():
            ThreePointArc((-187.396078049, 18), (-187.84847283, 20.481829944), (-187.999999995, 23))
            Line((-187.999999995, 23), (-187.999999995, 18))
            Line((-187.999999995, 18), (-187.396078049, 18))
        make_face()
        with BuildLine():
            Line((-187.396078049, 28), (-187.999999995, 28))
            Line((-187.999999995, 28), (-187.999999995, 23))
            ThreePointArc((-187.999999995, 23), (-187.84847283, 25.518170056), (-187.396078049, 28))
        make_face()
    extrude(amount=-CUT_EXTRUDE10_DEPTH, mode=Mode.SUBTRACT)


solid = part.part
